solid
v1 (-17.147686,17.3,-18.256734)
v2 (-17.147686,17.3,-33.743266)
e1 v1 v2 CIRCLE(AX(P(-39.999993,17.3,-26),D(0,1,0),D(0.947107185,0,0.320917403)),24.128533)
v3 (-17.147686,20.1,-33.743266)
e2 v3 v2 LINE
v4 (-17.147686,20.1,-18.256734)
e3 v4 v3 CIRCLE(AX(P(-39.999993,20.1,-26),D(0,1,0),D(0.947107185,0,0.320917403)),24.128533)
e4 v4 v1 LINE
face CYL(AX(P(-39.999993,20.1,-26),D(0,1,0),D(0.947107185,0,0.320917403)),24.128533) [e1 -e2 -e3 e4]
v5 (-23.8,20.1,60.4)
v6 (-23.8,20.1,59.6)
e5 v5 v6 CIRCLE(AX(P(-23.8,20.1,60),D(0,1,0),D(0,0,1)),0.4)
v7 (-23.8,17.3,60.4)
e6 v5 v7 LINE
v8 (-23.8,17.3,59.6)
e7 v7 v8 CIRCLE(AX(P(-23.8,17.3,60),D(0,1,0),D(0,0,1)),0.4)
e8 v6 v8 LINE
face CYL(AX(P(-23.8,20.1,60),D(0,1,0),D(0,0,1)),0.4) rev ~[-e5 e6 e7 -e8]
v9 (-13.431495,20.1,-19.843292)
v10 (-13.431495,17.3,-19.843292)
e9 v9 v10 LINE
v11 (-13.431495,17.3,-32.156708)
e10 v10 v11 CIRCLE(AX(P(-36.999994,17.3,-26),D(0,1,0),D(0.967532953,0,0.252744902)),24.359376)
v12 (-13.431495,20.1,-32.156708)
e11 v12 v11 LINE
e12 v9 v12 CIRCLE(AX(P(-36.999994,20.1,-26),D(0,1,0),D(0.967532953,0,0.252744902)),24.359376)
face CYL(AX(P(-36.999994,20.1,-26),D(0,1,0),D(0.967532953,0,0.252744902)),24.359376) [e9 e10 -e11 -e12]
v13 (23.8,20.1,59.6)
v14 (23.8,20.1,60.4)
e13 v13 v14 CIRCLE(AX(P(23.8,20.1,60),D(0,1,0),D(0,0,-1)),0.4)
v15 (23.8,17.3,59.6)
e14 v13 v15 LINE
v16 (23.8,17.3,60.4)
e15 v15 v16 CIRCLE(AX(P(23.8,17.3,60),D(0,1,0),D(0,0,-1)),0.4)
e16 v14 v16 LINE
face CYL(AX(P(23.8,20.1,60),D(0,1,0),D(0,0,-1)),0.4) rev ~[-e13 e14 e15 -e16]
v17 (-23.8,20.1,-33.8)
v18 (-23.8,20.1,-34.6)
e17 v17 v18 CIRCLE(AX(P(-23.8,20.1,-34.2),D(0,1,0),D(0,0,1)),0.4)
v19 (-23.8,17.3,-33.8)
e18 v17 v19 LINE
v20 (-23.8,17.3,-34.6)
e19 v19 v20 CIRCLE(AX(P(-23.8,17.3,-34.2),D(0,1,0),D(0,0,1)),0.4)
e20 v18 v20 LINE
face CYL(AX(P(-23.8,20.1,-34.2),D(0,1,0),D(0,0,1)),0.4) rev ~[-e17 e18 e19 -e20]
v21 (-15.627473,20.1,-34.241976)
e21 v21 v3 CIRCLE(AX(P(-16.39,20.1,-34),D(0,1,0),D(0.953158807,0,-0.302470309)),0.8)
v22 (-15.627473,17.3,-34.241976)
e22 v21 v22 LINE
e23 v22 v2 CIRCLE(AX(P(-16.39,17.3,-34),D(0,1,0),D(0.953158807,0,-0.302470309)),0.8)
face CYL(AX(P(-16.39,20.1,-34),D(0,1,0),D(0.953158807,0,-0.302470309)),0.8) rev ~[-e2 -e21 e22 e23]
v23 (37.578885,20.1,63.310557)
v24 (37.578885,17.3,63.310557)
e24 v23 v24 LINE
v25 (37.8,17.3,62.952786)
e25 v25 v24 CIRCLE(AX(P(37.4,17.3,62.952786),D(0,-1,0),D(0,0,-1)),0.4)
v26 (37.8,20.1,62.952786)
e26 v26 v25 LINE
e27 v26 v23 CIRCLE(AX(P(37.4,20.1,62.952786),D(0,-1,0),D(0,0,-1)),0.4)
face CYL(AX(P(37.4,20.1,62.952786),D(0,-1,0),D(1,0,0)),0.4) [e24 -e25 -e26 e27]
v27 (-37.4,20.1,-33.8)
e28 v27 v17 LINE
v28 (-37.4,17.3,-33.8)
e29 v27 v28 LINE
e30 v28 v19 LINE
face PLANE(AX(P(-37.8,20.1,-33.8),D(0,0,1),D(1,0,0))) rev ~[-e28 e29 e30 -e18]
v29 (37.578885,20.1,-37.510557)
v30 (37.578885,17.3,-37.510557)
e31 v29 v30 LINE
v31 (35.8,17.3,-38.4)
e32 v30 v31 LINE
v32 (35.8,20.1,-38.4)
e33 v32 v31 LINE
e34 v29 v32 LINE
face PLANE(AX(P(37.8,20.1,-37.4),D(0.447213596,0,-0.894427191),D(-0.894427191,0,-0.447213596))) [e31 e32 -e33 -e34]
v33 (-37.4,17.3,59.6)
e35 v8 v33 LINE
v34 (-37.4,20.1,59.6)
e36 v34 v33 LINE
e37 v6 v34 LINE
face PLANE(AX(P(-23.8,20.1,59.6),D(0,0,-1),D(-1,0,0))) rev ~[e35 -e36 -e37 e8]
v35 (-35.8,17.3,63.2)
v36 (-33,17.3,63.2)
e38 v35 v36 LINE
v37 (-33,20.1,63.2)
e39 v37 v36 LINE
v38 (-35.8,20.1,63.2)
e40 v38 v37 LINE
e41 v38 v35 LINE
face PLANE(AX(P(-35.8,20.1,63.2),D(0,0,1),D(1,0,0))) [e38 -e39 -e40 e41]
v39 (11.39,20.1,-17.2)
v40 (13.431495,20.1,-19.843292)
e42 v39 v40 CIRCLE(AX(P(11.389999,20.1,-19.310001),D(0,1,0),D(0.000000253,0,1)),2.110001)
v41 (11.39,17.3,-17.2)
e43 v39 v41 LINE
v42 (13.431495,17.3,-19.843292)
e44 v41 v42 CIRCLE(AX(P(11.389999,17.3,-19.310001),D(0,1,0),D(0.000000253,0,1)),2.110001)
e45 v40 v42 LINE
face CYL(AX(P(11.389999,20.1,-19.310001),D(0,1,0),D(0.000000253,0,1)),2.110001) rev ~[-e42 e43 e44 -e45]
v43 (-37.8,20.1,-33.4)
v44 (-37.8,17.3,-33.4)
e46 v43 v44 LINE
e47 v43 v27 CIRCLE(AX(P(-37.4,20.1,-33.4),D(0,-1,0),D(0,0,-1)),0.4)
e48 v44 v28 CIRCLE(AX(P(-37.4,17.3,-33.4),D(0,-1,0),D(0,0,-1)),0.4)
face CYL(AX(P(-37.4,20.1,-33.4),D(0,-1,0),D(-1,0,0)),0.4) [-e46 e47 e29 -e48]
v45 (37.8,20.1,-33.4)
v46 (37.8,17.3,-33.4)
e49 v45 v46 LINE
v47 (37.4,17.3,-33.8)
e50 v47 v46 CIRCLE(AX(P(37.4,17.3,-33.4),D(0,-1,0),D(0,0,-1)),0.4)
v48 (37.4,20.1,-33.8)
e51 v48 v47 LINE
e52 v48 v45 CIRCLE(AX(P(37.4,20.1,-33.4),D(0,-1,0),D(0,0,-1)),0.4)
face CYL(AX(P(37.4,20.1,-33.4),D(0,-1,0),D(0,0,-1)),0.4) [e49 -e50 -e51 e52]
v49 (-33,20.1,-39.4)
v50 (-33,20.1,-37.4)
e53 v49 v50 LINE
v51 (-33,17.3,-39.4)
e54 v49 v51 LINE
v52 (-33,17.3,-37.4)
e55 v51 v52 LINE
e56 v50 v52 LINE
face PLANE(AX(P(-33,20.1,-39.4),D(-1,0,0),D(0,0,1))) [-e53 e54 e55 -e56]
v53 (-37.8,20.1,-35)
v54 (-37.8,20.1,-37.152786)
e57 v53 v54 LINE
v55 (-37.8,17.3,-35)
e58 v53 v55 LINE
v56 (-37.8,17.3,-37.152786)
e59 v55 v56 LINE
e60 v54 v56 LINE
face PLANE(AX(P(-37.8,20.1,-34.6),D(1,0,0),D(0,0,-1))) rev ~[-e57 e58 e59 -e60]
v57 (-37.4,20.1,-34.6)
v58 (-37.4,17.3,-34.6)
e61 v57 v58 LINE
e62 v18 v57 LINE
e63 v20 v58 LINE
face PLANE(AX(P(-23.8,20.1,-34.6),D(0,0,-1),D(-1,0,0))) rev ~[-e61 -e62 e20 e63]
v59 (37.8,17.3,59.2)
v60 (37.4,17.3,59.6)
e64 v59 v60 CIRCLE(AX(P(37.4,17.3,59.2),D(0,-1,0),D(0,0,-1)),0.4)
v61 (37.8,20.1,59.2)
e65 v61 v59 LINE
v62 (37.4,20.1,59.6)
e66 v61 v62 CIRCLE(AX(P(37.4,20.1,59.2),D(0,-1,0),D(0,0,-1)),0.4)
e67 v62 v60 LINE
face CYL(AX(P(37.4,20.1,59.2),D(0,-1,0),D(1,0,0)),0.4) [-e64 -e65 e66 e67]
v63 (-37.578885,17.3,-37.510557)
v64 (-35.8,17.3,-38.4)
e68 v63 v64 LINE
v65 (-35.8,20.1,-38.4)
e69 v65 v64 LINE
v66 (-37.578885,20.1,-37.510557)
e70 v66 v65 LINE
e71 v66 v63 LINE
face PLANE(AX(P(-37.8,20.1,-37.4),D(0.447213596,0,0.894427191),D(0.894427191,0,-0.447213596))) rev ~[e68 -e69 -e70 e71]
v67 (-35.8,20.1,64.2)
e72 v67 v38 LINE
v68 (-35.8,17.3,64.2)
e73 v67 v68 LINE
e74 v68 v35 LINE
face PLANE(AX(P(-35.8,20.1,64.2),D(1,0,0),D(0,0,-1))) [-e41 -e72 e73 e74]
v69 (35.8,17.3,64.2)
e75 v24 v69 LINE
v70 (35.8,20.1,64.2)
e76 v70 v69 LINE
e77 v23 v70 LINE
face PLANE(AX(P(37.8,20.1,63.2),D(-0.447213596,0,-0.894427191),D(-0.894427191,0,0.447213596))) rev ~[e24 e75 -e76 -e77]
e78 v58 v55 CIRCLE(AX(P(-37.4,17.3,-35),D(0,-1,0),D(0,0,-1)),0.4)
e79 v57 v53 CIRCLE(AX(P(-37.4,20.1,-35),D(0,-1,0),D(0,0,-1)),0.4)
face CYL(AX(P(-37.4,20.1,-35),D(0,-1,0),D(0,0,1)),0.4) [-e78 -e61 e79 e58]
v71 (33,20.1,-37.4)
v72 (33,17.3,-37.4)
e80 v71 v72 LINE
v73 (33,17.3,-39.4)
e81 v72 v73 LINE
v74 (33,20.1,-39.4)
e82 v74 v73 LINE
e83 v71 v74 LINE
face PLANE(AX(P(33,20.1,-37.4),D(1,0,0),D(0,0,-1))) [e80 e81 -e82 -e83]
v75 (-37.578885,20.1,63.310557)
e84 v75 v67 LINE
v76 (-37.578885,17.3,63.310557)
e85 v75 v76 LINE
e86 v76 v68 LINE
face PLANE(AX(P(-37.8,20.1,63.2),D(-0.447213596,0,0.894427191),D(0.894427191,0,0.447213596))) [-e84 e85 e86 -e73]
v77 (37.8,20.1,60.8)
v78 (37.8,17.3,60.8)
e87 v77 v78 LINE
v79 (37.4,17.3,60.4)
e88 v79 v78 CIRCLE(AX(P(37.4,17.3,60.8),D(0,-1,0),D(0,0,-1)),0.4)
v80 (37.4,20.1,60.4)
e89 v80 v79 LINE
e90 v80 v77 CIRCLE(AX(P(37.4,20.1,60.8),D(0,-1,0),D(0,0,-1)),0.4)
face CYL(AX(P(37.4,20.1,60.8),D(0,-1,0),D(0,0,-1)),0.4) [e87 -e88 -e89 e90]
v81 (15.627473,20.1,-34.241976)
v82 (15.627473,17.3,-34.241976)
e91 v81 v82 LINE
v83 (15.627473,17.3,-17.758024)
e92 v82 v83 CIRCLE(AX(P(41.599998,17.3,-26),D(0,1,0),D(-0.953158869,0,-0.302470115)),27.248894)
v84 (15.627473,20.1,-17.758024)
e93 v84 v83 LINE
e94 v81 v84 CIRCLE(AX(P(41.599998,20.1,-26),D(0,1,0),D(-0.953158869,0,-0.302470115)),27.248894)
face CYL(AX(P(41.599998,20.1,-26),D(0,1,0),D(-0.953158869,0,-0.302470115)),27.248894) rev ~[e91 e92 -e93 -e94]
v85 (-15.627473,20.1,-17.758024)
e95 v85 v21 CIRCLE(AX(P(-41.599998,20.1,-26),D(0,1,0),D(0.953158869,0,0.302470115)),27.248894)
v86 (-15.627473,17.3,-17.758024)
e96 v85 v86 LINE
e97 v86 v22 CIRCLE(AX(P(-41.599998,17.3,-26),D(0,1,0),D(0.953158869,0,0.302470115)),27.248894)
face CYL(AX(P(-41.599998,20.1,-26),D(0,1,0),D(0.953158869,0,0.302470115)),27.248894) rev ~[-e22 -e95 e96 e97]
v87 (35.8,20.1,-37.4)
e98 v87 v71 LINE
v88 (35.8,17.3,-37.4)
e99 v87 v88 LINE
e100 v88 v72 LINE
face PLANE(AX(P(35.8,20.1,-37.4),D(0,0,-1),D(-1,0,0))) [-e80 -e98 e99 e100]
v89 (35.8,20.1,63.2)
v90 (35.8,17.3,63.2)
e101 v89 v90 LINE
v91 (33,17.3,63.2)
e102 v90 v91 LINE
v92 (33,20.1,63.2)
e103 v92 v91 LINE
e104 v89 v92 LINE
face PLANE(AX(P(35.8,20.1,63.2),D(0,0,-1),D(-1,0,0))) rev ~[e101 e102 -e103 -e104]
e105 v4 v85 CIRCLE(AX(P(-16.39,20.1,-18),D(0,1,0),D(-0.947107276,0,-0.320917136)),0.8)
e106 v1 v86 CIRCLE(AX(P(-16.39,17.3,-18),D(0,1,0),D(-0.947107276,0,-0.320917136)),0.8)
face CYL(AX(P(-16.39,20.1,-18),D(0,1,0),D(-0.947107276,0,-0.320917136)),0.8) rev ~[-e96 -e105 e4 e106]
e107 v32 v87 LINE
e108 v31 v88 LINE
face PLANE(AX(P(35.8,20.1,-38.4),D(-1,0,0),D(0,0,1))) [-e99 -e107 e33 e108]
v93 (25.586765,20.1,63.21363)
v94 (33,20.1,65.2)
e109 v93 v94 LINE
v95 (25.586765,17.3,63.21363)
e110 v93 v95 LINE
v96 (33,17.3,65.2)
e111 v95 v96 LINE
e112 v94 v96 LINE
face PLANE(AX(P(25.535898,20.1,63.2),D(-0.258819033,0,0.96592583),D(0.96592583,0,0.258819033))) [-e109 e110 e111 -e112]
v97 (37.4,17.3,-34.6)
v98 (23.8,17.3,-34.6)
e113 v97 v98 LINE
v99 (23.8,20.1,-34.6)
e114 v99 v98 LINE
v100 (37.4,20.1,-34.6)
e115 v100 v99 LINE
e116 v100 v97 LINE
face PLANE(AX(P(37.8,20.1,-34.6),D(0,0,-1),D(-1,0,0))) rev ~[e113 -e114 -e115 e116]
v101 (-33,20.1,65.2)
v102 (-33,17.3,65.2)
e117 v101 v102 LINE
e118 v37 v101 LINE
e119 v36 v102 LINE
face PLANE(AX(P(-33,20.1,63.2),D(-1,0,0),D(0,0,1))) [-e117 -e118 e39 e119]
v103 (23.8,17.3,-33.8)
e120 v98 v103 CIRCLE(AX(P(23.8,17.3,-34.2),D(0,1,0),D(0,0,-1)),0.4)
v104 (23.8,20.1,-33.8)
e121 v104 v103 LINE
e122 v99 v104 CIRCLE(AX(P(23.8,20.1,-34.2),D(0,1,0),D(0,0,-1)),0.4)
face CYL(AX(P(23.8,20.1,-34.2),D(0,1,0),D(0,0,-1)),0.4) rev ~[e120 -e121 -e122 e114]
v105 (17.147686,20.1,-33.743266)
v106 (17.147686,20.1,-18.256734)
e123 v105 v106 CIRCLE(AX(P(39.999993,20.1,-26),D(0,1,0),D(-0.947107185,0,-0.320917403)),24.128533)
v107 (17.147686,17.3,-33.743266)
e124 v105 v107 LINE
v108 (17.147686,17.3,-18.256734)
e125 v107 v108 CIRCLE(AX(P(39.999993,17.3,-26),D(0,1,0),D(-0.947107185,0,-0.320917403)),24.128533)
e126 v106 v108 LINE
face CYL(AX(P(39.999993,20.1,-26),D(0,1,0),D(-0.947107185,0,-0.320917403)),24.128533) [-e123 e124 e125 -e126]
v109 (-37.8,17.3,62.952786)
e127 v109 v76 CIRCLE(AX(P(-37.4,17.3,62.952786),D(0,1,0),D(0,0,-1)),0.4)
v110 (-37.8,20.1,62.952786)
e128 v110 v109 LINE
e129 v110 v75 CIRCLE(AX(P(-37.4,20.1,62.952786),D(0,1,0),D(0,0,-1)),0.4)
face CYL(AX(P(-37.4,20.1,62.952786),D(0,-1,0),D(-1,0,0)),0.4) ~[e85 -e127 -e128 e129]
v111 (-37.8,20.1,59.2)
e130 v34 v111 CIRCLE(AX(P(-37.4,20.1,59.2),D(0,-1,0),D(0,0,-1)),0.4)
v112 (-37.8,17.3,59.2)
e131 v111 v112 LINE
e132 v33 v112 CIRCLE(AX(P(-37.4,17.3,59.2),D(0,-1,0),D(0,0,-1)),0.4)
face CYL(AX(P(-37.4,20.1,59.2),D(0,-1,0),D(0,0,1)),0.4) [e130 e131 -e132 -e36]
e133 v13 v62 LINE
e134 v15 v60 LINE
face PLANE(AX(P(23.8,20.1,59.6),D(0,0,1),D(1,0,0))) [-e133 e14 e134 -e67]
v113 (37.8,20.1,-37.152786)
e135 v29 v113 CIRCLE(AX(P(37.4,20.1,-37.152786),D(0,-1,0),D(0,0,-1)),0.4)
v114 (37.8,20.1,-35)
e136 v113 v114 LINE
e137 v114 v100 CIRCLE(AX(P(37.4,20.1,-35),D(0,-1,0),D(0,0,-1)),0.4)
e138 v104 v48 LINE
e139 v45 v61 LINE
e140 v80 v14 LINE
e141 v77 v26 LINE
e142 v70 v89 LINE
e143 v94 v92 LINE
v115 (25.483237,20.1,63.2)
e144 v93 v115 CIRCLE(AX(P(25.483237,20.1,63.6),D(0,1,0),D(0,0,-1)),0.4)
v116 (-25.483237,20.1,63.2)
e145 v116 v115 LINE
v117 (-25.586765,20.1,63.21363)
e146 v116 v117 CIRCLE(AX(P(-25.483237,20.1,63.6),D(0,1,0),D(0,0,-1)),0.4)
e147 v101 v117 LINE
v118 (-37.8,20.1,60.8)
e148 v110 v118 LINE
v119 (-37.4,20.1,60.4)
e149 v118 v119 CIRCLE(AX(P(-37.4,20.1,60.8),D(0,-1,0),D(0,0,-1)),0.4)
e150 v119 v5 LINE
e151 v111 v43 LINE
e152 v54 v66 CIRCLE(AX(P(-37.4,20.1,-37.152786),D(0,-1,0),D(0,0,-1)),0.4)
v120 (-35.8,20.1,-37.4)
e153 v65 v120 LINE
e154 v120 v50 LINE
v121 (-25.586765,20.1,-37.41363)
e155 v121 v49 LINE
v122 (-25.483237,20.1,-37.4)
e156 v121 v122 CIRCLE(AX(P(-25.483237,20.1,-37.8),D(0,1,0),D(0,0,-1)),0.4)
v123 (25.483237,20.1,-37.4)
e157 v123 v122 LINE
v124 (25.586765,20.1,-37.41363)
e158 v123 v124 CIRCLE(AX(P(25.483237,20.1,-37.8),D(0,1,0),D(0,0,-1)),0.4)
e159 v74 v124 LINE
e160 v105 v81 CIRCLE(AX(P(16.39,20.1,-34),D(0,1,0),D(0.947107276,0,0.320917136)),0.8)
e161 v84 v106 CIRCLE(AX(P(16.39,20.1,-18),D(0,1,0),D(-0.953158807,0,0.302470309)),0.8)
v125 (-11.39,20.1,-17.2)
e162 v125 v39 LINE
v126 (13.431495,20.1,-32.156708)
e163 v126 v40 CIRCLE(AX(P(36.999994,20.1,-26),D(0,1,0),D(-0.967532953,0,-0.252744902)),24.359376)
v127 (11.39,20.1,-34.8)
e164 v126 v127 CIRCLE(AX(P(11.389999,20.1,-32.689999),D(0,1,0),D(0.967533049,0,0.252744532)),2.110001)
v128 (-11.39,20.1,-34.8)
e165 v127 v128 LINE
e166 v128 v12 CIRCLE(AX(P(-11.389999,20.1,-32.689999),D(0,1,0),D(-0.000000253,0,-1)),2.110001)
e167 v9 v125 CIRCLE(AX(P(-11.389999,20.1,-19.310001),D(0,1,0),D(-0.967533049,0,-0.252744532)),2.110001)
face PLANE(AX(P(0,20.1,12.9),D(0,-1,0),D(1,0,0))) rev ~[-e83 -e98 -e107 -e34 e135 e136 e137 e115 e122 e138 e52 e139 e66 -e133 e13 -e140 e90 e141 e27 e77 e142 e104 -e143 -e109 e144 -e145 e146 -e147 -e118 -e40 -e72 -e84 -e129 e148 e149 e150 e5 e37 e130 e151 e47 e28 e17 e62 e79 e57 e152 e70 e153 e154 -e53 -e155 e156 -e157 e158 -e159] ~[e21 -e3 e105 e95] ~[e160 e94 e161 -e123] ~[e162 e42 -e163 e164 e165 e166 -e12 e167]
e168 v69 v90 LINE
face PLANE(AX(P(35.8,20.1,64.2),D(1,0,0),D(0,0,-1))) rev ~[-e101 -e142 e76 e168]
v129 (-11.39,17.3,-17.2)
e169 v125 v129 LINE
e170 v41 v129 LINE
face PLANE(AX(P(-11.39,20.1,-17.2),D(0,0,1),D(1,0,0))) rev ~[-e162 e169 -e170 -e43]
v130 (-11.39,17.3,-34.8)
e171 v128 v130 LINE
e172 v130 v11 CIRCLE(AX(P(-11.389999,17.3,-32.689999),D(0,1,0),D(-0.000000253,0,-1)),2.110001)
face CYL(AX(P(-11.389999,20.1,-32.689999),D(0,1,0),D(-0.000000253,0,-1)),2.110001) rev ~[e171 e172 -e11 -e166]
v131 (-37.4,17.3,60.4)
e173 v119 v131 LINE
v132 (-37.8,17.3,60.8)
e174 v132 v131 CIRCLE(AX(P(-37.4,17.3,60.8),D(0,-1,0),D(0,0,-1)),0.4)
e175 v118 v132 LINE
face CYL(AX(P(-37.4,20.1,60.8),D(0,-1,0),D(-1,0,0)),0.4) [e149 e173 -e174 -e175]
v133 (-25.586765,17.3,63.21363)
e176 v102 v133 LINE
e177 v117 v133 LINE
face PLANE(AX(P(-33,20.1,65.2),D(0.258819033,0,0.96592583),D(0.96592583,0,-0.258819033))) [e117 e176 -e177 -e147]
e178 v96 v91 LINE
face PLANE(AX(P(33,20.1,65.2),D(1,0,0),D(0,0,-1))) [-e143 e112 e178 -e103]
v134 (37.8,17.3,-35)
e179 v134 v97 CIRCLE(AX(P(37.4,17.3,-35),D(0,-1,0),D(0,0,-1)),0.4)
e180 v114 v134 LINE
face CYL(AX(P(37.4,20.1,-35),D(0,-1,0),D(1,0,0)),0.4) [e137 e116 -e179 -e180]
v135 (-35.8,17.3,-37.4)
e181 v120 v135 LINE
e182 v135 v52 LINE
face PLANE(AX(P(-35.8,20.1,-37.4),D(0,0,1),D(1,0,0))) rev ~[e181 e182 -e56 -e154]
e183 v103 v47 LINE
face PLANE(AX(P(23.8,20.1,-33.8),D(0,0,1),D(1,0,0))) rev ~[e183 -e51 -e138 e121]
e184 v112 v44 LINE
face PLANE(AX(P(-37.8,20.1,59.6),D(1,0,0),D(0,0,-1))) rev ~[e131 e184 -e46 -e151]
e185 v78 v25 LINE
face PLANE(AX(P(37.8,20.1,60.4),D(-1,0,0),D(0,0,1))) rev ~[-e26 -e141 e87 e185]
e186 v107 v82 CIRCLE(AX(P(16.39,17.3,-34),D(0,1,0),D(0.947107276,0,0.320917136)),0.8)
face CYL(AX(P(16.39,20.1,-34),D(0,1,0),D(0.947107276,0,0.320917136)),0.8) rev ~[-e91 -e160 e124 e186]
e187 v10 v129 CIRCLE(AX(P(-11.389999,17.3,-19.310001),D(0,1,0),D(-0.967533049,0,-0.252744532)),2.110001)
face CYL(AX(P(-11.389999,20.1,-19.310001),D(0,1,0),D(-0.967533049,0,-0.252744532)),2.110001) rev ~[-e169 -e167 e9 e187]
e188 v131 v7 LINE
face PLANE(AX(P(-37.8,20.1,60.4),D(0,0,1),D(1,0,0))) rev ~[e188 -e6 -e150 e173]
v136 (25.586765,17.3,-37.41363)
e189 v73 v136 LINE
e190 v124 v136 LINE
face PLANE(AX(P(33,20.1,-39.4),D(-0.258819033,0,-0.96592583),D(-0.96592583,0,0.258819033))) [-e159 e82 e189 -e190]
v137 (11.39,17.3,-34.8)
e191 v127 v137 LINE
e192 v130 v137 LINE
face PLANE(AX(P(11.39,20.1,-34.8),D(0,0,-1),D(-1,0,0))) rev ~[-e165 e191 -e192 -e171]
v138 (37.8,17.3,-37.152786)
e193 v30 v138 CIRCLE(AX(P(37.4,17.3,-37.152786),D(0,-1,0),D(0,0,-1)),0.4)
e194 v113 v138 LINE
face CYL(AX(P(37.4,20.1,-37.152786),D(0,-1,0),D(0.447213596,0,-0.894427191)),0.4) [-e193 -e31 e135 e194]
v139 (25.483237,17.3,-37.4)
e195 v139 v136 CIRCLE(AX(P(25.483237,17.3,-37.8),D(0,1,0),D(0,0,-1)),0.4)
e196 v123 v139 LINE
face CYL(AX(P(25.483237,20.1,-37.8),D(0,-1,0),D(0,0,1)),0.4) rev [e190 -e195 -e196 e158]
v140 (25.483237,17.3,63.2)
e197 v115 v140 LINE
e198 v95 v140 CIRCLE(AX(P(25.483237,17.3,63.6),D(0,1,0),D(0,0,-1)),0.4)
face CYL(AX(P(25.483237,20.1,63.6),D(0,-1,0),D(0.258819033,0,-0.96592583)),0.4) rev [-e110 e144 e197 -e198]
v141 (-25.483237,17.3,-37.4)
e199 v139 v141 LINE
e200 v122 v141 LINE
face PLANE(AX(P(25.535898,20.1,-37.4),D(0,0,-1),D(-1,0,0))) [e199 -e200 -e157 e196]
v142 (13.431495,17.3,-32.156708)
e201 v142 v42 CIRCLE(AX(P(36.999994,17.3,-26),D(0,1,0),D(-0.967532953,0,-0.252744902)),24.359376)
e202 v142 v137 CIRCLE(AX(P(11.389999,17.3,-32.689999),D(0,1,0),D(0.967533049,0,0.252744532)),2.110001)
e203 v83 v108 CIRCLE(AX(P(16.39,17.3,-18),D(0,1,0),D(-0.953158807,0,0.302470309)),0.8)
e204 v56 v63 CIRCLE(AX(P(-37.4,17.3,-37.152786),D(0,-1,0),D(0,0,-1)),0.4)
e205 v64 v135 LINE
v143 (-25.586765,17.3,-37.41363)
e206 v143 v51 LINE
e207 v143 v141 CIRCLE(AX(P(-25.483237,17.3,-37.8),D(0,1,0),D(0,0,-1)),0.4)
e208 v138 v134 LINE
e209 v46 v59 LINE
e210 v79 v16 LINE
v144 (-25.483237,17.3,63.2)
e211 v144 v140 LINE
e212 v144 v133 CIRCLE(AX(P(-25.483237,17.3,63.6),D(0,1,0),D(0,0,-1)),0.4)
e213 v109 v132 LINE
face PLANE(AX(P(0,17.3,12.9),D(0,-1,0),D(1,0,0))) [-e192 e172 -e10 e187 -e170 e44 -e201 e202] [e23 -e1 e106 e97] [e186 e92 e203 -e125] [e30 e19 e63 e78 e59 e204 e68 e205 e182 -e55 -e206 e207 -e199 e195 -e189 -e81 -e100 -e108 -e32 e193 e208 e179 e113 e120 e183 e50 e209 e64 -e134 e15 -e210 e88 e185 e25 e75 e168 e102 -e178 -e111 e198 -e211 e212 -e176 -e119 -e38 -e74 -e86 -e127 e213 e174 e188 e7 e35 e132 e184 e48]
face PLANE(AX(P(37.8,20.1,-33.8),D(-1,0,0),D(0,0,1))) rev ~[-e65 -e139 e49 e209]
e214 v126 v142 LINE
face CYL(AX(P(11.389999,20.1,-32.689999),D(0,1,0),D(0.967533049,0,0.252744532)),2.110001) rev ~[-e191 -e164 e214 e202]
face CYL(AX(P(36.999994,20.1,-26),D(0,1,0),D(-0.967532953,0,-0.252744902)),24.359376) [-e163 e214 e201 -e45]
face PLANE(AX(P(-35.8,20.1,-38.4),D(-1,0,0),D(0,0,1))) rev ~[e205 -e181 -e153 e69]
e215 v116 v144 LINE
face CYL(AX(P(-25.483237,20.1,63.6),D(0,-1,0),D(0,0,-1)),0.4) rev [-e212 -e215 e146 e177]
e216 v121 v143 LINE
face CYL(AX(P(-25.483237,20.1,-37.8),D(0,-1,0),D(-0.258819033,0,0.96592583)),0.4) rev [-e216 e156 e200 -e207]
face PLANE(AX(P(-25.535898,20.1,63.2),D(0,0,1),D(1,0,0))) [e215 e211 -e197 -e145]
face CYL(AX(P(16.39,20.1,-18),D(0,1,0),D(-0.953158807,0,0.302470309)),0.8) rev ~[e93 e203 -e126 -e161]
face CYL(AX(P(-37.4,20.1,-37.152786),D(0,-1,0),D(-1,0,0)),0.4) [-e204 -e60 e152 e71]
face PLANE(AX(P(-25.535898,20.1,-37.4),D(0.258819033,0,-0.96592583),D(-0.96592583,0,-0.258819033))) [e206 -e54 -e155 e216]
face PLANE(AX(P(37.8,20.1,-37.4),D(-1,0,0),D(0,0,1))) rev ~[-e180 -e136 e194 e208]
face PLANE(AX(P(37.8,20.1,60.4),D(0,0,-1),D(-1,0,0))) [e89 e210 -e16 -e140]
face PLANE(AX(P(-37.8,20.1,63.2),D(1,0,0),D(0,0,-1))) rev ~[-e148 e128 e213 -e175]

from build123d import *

# Parameters (mm, degrees)
PAD008_DEPTH = 2.8
FILLET001_R  = 0.4
POCKET_DEPTH = 2.801


with BuildPart() as part:
    # Sketch008 → Pad008 (new body)
    with BuildSketch(Plane(origin=(0, 20.1, 0), x_dir=(-1, 0, 0), z_dir=(0, 1, 0))):
        with BuildLine():
            Line((37.8, 63.2), (37.8, 60.4))
            Line((37.8, 60.4), (23.8, 60.4))
            ThreePointArc((23.8, 60.4), (23.4, 60), (23.8, 59.6))
            Line((23.8, 59.6), (37.8, 59.6))
            Line((37.8, 59.6), (37.8, -33.8))
            Line((37.8, -33.8), (23.8, -33.8))
            ThreePointArc((23.8, -33.8), (23.4, -34.2), (23.8, -34.6))
            Line((23.8, -34.6), (37.8, -34.6))
            Line((37.8, -34.6), (37.8, -37.4))
            Line((37.8, -37.4), (35.8, -38.4))
            Line((35.8, -38.4), (35.8, -37.4))
            Line((35.8, -37.4), (33, -37.4))
            Line((33, -39.4), (33, -37.4))
            Line((25.535898, -37.4), (33, -39.4))
            Line((-25.535898, -37.4), (25.535898, -37.4))
            Line((-33, -39.4), (-25.535898, -37.4))
            Line((-33, -37.4), (-33, -39.4))
            Line((-35.8, -37.4), (-33, -37.4))
            Line((-35.8, -38.4), (-35.8, -37.4))
            Line((-37.8, -37.4), (-35.8, -38.4))
            Line((-37.8, -37.4), (-37.8, -34.6))
            Line((-37.8, -34.6), (-23.8, -34.6))
            ThreePointArc((-23.8, -34.6), (-23.4, -34.2), (-23.8, -33.8))
            Line((-23.8, -33.8), (-37.8, -33.8))
            Line((-37.8, -33.8), (-37.8, 59.6))
            Line((-23.8, 59.6), (-37.8, 59.6))
            ThreePointArc((-23.8, 59.6), (-23.4, 60), (-23.8, 60.4))
            Line((-37.8, 60.4), (-23.8, 60.4))
            Line((-37.8, 60.4), (-37.8, 63.2))
            Line((-37.8, 63.2), (-35.8, 64.2))
            Line((-35.8, 64.2), (-35.8, 63.2))
            Line((-35.8, 63.2), (-33, 63.2))
            Line((-33, 65.2), (-33, 63.2))
            Line((-25.535898, 63.2), (-33, 65.2))
            Line((25.535898, 63.2), (-25.535898, 63.2))
            Line((33, 65.2), (25.535898, 63.2))
            Line((33, 63.2), (33, 65.2))
            Line((35.8, 63.2), (33, 63.2))
            Line((35.8, 64.2), (35.8, 63.2))
            Line((37.8, 63.2), (35.8, 64.2))
        make_face()
    extrude(amount=-PAD008_DEPTH)

    # Fillet001
    fillet001_edges = [part.edges().sort_by_distance(p)[0] for p in [
        (-37.8, 18.7, 59.6),
        (-37.8, 18.7, 60.4),
        (-37.8, 18.7, 63.2),
        (-25.535898, 18.7, 63.2),
        (25.535898, 18.7, 63.2),
        (37.8, 18.7, 63.2),
        (37.8, 18.7, 60.4),
        (37.8, 18.7, 59.6),
        (37.8, 18.7, -33.8),
        (37.8, 18.7, -34.6),
        (37.8, 18.7, -37.4),
        (25.535898, 18.7, -37.4),
        (-25.535898, 18.7, -37.4),
        (-37.8, 18.7, -37.4),
        (-37.8, 18.7, -33.8),
        (-37.8, 18.7, -34.6),
    ]]
    fillet(fillet001_edges, radius=FILLET001_R)

    # Sketch029 → Pocket (cut, through all)
    with BuildSketch(Plane(origin=(0, 20.1, 0), x_dir=(-1, 0, 0), z_dir=(0, 1, 0))):
        with BuildLine():
            Line((-11.39, -34.8), (11.39, -34.8))
            ThreePointArc((11.39, -34.8), (13.059932, -33.979739), (13.431495, -32.156708))
            ThreePointArc((13.431495, -19.843292), (12.640618, -26), (13.431495, -32.156708))
            ThreePointArc((13.431495, -19.843292), (13.059932, -18.020261), (11.39, -17.2))
            Line((11.39, -17.2), (-11.39, -17.2))
            ThreePointArc((-11.39, -17.2), (-13.059932, -18.020261), (-13.431495, -19.843292))
            ThreePointArc((-13.431495, -32.156708), (-12.640618, -26), (-13.431495, -19.843292))
            ThreePointArc((-13.431495, -32.156708), (-13.059932, -33.979739), (-11.39, -34.8))
        make_face()
        with BuildLine():
            ThreePointArc((-15.627473, -17.758024), (-16.639367, -17.239858), (-17.147686, -18.256734))
            ThreePointArc((-17.147686, -33.743266), (-15.87146, -26), (-17.147686, -18.256734))
            ThreePointArc((-17.147686, -33.743266), (-16.639367, -34.760142), (-15.627473, -34.241976))
            ThreePointArc((-15.627473, -34.241976), (-14.351104, -26), (-15.627473, -17.758024))
        make_face()
        with BuildLine():
            ThreePointArc((17.147686, -18.256734), (16.639367, -17.239858), (15.627473, -17.758024))
            ThreePointArc((15.627473, -17.758024), (14.351104, -26), (15.627473, -34.241976))
            ThreePointArc((15.627473, -34.241976), (16.639367, -34.760142), (17.147686, -33.743266))
            ThreePointArc((17.147686, -18.256734), (15.87146, -26), (17.147686, -33.743266))
        make_face()
    extrude(amount=-POCKET_DEPTH, mode=Mode.SUBTRACT)


solid = part.part
